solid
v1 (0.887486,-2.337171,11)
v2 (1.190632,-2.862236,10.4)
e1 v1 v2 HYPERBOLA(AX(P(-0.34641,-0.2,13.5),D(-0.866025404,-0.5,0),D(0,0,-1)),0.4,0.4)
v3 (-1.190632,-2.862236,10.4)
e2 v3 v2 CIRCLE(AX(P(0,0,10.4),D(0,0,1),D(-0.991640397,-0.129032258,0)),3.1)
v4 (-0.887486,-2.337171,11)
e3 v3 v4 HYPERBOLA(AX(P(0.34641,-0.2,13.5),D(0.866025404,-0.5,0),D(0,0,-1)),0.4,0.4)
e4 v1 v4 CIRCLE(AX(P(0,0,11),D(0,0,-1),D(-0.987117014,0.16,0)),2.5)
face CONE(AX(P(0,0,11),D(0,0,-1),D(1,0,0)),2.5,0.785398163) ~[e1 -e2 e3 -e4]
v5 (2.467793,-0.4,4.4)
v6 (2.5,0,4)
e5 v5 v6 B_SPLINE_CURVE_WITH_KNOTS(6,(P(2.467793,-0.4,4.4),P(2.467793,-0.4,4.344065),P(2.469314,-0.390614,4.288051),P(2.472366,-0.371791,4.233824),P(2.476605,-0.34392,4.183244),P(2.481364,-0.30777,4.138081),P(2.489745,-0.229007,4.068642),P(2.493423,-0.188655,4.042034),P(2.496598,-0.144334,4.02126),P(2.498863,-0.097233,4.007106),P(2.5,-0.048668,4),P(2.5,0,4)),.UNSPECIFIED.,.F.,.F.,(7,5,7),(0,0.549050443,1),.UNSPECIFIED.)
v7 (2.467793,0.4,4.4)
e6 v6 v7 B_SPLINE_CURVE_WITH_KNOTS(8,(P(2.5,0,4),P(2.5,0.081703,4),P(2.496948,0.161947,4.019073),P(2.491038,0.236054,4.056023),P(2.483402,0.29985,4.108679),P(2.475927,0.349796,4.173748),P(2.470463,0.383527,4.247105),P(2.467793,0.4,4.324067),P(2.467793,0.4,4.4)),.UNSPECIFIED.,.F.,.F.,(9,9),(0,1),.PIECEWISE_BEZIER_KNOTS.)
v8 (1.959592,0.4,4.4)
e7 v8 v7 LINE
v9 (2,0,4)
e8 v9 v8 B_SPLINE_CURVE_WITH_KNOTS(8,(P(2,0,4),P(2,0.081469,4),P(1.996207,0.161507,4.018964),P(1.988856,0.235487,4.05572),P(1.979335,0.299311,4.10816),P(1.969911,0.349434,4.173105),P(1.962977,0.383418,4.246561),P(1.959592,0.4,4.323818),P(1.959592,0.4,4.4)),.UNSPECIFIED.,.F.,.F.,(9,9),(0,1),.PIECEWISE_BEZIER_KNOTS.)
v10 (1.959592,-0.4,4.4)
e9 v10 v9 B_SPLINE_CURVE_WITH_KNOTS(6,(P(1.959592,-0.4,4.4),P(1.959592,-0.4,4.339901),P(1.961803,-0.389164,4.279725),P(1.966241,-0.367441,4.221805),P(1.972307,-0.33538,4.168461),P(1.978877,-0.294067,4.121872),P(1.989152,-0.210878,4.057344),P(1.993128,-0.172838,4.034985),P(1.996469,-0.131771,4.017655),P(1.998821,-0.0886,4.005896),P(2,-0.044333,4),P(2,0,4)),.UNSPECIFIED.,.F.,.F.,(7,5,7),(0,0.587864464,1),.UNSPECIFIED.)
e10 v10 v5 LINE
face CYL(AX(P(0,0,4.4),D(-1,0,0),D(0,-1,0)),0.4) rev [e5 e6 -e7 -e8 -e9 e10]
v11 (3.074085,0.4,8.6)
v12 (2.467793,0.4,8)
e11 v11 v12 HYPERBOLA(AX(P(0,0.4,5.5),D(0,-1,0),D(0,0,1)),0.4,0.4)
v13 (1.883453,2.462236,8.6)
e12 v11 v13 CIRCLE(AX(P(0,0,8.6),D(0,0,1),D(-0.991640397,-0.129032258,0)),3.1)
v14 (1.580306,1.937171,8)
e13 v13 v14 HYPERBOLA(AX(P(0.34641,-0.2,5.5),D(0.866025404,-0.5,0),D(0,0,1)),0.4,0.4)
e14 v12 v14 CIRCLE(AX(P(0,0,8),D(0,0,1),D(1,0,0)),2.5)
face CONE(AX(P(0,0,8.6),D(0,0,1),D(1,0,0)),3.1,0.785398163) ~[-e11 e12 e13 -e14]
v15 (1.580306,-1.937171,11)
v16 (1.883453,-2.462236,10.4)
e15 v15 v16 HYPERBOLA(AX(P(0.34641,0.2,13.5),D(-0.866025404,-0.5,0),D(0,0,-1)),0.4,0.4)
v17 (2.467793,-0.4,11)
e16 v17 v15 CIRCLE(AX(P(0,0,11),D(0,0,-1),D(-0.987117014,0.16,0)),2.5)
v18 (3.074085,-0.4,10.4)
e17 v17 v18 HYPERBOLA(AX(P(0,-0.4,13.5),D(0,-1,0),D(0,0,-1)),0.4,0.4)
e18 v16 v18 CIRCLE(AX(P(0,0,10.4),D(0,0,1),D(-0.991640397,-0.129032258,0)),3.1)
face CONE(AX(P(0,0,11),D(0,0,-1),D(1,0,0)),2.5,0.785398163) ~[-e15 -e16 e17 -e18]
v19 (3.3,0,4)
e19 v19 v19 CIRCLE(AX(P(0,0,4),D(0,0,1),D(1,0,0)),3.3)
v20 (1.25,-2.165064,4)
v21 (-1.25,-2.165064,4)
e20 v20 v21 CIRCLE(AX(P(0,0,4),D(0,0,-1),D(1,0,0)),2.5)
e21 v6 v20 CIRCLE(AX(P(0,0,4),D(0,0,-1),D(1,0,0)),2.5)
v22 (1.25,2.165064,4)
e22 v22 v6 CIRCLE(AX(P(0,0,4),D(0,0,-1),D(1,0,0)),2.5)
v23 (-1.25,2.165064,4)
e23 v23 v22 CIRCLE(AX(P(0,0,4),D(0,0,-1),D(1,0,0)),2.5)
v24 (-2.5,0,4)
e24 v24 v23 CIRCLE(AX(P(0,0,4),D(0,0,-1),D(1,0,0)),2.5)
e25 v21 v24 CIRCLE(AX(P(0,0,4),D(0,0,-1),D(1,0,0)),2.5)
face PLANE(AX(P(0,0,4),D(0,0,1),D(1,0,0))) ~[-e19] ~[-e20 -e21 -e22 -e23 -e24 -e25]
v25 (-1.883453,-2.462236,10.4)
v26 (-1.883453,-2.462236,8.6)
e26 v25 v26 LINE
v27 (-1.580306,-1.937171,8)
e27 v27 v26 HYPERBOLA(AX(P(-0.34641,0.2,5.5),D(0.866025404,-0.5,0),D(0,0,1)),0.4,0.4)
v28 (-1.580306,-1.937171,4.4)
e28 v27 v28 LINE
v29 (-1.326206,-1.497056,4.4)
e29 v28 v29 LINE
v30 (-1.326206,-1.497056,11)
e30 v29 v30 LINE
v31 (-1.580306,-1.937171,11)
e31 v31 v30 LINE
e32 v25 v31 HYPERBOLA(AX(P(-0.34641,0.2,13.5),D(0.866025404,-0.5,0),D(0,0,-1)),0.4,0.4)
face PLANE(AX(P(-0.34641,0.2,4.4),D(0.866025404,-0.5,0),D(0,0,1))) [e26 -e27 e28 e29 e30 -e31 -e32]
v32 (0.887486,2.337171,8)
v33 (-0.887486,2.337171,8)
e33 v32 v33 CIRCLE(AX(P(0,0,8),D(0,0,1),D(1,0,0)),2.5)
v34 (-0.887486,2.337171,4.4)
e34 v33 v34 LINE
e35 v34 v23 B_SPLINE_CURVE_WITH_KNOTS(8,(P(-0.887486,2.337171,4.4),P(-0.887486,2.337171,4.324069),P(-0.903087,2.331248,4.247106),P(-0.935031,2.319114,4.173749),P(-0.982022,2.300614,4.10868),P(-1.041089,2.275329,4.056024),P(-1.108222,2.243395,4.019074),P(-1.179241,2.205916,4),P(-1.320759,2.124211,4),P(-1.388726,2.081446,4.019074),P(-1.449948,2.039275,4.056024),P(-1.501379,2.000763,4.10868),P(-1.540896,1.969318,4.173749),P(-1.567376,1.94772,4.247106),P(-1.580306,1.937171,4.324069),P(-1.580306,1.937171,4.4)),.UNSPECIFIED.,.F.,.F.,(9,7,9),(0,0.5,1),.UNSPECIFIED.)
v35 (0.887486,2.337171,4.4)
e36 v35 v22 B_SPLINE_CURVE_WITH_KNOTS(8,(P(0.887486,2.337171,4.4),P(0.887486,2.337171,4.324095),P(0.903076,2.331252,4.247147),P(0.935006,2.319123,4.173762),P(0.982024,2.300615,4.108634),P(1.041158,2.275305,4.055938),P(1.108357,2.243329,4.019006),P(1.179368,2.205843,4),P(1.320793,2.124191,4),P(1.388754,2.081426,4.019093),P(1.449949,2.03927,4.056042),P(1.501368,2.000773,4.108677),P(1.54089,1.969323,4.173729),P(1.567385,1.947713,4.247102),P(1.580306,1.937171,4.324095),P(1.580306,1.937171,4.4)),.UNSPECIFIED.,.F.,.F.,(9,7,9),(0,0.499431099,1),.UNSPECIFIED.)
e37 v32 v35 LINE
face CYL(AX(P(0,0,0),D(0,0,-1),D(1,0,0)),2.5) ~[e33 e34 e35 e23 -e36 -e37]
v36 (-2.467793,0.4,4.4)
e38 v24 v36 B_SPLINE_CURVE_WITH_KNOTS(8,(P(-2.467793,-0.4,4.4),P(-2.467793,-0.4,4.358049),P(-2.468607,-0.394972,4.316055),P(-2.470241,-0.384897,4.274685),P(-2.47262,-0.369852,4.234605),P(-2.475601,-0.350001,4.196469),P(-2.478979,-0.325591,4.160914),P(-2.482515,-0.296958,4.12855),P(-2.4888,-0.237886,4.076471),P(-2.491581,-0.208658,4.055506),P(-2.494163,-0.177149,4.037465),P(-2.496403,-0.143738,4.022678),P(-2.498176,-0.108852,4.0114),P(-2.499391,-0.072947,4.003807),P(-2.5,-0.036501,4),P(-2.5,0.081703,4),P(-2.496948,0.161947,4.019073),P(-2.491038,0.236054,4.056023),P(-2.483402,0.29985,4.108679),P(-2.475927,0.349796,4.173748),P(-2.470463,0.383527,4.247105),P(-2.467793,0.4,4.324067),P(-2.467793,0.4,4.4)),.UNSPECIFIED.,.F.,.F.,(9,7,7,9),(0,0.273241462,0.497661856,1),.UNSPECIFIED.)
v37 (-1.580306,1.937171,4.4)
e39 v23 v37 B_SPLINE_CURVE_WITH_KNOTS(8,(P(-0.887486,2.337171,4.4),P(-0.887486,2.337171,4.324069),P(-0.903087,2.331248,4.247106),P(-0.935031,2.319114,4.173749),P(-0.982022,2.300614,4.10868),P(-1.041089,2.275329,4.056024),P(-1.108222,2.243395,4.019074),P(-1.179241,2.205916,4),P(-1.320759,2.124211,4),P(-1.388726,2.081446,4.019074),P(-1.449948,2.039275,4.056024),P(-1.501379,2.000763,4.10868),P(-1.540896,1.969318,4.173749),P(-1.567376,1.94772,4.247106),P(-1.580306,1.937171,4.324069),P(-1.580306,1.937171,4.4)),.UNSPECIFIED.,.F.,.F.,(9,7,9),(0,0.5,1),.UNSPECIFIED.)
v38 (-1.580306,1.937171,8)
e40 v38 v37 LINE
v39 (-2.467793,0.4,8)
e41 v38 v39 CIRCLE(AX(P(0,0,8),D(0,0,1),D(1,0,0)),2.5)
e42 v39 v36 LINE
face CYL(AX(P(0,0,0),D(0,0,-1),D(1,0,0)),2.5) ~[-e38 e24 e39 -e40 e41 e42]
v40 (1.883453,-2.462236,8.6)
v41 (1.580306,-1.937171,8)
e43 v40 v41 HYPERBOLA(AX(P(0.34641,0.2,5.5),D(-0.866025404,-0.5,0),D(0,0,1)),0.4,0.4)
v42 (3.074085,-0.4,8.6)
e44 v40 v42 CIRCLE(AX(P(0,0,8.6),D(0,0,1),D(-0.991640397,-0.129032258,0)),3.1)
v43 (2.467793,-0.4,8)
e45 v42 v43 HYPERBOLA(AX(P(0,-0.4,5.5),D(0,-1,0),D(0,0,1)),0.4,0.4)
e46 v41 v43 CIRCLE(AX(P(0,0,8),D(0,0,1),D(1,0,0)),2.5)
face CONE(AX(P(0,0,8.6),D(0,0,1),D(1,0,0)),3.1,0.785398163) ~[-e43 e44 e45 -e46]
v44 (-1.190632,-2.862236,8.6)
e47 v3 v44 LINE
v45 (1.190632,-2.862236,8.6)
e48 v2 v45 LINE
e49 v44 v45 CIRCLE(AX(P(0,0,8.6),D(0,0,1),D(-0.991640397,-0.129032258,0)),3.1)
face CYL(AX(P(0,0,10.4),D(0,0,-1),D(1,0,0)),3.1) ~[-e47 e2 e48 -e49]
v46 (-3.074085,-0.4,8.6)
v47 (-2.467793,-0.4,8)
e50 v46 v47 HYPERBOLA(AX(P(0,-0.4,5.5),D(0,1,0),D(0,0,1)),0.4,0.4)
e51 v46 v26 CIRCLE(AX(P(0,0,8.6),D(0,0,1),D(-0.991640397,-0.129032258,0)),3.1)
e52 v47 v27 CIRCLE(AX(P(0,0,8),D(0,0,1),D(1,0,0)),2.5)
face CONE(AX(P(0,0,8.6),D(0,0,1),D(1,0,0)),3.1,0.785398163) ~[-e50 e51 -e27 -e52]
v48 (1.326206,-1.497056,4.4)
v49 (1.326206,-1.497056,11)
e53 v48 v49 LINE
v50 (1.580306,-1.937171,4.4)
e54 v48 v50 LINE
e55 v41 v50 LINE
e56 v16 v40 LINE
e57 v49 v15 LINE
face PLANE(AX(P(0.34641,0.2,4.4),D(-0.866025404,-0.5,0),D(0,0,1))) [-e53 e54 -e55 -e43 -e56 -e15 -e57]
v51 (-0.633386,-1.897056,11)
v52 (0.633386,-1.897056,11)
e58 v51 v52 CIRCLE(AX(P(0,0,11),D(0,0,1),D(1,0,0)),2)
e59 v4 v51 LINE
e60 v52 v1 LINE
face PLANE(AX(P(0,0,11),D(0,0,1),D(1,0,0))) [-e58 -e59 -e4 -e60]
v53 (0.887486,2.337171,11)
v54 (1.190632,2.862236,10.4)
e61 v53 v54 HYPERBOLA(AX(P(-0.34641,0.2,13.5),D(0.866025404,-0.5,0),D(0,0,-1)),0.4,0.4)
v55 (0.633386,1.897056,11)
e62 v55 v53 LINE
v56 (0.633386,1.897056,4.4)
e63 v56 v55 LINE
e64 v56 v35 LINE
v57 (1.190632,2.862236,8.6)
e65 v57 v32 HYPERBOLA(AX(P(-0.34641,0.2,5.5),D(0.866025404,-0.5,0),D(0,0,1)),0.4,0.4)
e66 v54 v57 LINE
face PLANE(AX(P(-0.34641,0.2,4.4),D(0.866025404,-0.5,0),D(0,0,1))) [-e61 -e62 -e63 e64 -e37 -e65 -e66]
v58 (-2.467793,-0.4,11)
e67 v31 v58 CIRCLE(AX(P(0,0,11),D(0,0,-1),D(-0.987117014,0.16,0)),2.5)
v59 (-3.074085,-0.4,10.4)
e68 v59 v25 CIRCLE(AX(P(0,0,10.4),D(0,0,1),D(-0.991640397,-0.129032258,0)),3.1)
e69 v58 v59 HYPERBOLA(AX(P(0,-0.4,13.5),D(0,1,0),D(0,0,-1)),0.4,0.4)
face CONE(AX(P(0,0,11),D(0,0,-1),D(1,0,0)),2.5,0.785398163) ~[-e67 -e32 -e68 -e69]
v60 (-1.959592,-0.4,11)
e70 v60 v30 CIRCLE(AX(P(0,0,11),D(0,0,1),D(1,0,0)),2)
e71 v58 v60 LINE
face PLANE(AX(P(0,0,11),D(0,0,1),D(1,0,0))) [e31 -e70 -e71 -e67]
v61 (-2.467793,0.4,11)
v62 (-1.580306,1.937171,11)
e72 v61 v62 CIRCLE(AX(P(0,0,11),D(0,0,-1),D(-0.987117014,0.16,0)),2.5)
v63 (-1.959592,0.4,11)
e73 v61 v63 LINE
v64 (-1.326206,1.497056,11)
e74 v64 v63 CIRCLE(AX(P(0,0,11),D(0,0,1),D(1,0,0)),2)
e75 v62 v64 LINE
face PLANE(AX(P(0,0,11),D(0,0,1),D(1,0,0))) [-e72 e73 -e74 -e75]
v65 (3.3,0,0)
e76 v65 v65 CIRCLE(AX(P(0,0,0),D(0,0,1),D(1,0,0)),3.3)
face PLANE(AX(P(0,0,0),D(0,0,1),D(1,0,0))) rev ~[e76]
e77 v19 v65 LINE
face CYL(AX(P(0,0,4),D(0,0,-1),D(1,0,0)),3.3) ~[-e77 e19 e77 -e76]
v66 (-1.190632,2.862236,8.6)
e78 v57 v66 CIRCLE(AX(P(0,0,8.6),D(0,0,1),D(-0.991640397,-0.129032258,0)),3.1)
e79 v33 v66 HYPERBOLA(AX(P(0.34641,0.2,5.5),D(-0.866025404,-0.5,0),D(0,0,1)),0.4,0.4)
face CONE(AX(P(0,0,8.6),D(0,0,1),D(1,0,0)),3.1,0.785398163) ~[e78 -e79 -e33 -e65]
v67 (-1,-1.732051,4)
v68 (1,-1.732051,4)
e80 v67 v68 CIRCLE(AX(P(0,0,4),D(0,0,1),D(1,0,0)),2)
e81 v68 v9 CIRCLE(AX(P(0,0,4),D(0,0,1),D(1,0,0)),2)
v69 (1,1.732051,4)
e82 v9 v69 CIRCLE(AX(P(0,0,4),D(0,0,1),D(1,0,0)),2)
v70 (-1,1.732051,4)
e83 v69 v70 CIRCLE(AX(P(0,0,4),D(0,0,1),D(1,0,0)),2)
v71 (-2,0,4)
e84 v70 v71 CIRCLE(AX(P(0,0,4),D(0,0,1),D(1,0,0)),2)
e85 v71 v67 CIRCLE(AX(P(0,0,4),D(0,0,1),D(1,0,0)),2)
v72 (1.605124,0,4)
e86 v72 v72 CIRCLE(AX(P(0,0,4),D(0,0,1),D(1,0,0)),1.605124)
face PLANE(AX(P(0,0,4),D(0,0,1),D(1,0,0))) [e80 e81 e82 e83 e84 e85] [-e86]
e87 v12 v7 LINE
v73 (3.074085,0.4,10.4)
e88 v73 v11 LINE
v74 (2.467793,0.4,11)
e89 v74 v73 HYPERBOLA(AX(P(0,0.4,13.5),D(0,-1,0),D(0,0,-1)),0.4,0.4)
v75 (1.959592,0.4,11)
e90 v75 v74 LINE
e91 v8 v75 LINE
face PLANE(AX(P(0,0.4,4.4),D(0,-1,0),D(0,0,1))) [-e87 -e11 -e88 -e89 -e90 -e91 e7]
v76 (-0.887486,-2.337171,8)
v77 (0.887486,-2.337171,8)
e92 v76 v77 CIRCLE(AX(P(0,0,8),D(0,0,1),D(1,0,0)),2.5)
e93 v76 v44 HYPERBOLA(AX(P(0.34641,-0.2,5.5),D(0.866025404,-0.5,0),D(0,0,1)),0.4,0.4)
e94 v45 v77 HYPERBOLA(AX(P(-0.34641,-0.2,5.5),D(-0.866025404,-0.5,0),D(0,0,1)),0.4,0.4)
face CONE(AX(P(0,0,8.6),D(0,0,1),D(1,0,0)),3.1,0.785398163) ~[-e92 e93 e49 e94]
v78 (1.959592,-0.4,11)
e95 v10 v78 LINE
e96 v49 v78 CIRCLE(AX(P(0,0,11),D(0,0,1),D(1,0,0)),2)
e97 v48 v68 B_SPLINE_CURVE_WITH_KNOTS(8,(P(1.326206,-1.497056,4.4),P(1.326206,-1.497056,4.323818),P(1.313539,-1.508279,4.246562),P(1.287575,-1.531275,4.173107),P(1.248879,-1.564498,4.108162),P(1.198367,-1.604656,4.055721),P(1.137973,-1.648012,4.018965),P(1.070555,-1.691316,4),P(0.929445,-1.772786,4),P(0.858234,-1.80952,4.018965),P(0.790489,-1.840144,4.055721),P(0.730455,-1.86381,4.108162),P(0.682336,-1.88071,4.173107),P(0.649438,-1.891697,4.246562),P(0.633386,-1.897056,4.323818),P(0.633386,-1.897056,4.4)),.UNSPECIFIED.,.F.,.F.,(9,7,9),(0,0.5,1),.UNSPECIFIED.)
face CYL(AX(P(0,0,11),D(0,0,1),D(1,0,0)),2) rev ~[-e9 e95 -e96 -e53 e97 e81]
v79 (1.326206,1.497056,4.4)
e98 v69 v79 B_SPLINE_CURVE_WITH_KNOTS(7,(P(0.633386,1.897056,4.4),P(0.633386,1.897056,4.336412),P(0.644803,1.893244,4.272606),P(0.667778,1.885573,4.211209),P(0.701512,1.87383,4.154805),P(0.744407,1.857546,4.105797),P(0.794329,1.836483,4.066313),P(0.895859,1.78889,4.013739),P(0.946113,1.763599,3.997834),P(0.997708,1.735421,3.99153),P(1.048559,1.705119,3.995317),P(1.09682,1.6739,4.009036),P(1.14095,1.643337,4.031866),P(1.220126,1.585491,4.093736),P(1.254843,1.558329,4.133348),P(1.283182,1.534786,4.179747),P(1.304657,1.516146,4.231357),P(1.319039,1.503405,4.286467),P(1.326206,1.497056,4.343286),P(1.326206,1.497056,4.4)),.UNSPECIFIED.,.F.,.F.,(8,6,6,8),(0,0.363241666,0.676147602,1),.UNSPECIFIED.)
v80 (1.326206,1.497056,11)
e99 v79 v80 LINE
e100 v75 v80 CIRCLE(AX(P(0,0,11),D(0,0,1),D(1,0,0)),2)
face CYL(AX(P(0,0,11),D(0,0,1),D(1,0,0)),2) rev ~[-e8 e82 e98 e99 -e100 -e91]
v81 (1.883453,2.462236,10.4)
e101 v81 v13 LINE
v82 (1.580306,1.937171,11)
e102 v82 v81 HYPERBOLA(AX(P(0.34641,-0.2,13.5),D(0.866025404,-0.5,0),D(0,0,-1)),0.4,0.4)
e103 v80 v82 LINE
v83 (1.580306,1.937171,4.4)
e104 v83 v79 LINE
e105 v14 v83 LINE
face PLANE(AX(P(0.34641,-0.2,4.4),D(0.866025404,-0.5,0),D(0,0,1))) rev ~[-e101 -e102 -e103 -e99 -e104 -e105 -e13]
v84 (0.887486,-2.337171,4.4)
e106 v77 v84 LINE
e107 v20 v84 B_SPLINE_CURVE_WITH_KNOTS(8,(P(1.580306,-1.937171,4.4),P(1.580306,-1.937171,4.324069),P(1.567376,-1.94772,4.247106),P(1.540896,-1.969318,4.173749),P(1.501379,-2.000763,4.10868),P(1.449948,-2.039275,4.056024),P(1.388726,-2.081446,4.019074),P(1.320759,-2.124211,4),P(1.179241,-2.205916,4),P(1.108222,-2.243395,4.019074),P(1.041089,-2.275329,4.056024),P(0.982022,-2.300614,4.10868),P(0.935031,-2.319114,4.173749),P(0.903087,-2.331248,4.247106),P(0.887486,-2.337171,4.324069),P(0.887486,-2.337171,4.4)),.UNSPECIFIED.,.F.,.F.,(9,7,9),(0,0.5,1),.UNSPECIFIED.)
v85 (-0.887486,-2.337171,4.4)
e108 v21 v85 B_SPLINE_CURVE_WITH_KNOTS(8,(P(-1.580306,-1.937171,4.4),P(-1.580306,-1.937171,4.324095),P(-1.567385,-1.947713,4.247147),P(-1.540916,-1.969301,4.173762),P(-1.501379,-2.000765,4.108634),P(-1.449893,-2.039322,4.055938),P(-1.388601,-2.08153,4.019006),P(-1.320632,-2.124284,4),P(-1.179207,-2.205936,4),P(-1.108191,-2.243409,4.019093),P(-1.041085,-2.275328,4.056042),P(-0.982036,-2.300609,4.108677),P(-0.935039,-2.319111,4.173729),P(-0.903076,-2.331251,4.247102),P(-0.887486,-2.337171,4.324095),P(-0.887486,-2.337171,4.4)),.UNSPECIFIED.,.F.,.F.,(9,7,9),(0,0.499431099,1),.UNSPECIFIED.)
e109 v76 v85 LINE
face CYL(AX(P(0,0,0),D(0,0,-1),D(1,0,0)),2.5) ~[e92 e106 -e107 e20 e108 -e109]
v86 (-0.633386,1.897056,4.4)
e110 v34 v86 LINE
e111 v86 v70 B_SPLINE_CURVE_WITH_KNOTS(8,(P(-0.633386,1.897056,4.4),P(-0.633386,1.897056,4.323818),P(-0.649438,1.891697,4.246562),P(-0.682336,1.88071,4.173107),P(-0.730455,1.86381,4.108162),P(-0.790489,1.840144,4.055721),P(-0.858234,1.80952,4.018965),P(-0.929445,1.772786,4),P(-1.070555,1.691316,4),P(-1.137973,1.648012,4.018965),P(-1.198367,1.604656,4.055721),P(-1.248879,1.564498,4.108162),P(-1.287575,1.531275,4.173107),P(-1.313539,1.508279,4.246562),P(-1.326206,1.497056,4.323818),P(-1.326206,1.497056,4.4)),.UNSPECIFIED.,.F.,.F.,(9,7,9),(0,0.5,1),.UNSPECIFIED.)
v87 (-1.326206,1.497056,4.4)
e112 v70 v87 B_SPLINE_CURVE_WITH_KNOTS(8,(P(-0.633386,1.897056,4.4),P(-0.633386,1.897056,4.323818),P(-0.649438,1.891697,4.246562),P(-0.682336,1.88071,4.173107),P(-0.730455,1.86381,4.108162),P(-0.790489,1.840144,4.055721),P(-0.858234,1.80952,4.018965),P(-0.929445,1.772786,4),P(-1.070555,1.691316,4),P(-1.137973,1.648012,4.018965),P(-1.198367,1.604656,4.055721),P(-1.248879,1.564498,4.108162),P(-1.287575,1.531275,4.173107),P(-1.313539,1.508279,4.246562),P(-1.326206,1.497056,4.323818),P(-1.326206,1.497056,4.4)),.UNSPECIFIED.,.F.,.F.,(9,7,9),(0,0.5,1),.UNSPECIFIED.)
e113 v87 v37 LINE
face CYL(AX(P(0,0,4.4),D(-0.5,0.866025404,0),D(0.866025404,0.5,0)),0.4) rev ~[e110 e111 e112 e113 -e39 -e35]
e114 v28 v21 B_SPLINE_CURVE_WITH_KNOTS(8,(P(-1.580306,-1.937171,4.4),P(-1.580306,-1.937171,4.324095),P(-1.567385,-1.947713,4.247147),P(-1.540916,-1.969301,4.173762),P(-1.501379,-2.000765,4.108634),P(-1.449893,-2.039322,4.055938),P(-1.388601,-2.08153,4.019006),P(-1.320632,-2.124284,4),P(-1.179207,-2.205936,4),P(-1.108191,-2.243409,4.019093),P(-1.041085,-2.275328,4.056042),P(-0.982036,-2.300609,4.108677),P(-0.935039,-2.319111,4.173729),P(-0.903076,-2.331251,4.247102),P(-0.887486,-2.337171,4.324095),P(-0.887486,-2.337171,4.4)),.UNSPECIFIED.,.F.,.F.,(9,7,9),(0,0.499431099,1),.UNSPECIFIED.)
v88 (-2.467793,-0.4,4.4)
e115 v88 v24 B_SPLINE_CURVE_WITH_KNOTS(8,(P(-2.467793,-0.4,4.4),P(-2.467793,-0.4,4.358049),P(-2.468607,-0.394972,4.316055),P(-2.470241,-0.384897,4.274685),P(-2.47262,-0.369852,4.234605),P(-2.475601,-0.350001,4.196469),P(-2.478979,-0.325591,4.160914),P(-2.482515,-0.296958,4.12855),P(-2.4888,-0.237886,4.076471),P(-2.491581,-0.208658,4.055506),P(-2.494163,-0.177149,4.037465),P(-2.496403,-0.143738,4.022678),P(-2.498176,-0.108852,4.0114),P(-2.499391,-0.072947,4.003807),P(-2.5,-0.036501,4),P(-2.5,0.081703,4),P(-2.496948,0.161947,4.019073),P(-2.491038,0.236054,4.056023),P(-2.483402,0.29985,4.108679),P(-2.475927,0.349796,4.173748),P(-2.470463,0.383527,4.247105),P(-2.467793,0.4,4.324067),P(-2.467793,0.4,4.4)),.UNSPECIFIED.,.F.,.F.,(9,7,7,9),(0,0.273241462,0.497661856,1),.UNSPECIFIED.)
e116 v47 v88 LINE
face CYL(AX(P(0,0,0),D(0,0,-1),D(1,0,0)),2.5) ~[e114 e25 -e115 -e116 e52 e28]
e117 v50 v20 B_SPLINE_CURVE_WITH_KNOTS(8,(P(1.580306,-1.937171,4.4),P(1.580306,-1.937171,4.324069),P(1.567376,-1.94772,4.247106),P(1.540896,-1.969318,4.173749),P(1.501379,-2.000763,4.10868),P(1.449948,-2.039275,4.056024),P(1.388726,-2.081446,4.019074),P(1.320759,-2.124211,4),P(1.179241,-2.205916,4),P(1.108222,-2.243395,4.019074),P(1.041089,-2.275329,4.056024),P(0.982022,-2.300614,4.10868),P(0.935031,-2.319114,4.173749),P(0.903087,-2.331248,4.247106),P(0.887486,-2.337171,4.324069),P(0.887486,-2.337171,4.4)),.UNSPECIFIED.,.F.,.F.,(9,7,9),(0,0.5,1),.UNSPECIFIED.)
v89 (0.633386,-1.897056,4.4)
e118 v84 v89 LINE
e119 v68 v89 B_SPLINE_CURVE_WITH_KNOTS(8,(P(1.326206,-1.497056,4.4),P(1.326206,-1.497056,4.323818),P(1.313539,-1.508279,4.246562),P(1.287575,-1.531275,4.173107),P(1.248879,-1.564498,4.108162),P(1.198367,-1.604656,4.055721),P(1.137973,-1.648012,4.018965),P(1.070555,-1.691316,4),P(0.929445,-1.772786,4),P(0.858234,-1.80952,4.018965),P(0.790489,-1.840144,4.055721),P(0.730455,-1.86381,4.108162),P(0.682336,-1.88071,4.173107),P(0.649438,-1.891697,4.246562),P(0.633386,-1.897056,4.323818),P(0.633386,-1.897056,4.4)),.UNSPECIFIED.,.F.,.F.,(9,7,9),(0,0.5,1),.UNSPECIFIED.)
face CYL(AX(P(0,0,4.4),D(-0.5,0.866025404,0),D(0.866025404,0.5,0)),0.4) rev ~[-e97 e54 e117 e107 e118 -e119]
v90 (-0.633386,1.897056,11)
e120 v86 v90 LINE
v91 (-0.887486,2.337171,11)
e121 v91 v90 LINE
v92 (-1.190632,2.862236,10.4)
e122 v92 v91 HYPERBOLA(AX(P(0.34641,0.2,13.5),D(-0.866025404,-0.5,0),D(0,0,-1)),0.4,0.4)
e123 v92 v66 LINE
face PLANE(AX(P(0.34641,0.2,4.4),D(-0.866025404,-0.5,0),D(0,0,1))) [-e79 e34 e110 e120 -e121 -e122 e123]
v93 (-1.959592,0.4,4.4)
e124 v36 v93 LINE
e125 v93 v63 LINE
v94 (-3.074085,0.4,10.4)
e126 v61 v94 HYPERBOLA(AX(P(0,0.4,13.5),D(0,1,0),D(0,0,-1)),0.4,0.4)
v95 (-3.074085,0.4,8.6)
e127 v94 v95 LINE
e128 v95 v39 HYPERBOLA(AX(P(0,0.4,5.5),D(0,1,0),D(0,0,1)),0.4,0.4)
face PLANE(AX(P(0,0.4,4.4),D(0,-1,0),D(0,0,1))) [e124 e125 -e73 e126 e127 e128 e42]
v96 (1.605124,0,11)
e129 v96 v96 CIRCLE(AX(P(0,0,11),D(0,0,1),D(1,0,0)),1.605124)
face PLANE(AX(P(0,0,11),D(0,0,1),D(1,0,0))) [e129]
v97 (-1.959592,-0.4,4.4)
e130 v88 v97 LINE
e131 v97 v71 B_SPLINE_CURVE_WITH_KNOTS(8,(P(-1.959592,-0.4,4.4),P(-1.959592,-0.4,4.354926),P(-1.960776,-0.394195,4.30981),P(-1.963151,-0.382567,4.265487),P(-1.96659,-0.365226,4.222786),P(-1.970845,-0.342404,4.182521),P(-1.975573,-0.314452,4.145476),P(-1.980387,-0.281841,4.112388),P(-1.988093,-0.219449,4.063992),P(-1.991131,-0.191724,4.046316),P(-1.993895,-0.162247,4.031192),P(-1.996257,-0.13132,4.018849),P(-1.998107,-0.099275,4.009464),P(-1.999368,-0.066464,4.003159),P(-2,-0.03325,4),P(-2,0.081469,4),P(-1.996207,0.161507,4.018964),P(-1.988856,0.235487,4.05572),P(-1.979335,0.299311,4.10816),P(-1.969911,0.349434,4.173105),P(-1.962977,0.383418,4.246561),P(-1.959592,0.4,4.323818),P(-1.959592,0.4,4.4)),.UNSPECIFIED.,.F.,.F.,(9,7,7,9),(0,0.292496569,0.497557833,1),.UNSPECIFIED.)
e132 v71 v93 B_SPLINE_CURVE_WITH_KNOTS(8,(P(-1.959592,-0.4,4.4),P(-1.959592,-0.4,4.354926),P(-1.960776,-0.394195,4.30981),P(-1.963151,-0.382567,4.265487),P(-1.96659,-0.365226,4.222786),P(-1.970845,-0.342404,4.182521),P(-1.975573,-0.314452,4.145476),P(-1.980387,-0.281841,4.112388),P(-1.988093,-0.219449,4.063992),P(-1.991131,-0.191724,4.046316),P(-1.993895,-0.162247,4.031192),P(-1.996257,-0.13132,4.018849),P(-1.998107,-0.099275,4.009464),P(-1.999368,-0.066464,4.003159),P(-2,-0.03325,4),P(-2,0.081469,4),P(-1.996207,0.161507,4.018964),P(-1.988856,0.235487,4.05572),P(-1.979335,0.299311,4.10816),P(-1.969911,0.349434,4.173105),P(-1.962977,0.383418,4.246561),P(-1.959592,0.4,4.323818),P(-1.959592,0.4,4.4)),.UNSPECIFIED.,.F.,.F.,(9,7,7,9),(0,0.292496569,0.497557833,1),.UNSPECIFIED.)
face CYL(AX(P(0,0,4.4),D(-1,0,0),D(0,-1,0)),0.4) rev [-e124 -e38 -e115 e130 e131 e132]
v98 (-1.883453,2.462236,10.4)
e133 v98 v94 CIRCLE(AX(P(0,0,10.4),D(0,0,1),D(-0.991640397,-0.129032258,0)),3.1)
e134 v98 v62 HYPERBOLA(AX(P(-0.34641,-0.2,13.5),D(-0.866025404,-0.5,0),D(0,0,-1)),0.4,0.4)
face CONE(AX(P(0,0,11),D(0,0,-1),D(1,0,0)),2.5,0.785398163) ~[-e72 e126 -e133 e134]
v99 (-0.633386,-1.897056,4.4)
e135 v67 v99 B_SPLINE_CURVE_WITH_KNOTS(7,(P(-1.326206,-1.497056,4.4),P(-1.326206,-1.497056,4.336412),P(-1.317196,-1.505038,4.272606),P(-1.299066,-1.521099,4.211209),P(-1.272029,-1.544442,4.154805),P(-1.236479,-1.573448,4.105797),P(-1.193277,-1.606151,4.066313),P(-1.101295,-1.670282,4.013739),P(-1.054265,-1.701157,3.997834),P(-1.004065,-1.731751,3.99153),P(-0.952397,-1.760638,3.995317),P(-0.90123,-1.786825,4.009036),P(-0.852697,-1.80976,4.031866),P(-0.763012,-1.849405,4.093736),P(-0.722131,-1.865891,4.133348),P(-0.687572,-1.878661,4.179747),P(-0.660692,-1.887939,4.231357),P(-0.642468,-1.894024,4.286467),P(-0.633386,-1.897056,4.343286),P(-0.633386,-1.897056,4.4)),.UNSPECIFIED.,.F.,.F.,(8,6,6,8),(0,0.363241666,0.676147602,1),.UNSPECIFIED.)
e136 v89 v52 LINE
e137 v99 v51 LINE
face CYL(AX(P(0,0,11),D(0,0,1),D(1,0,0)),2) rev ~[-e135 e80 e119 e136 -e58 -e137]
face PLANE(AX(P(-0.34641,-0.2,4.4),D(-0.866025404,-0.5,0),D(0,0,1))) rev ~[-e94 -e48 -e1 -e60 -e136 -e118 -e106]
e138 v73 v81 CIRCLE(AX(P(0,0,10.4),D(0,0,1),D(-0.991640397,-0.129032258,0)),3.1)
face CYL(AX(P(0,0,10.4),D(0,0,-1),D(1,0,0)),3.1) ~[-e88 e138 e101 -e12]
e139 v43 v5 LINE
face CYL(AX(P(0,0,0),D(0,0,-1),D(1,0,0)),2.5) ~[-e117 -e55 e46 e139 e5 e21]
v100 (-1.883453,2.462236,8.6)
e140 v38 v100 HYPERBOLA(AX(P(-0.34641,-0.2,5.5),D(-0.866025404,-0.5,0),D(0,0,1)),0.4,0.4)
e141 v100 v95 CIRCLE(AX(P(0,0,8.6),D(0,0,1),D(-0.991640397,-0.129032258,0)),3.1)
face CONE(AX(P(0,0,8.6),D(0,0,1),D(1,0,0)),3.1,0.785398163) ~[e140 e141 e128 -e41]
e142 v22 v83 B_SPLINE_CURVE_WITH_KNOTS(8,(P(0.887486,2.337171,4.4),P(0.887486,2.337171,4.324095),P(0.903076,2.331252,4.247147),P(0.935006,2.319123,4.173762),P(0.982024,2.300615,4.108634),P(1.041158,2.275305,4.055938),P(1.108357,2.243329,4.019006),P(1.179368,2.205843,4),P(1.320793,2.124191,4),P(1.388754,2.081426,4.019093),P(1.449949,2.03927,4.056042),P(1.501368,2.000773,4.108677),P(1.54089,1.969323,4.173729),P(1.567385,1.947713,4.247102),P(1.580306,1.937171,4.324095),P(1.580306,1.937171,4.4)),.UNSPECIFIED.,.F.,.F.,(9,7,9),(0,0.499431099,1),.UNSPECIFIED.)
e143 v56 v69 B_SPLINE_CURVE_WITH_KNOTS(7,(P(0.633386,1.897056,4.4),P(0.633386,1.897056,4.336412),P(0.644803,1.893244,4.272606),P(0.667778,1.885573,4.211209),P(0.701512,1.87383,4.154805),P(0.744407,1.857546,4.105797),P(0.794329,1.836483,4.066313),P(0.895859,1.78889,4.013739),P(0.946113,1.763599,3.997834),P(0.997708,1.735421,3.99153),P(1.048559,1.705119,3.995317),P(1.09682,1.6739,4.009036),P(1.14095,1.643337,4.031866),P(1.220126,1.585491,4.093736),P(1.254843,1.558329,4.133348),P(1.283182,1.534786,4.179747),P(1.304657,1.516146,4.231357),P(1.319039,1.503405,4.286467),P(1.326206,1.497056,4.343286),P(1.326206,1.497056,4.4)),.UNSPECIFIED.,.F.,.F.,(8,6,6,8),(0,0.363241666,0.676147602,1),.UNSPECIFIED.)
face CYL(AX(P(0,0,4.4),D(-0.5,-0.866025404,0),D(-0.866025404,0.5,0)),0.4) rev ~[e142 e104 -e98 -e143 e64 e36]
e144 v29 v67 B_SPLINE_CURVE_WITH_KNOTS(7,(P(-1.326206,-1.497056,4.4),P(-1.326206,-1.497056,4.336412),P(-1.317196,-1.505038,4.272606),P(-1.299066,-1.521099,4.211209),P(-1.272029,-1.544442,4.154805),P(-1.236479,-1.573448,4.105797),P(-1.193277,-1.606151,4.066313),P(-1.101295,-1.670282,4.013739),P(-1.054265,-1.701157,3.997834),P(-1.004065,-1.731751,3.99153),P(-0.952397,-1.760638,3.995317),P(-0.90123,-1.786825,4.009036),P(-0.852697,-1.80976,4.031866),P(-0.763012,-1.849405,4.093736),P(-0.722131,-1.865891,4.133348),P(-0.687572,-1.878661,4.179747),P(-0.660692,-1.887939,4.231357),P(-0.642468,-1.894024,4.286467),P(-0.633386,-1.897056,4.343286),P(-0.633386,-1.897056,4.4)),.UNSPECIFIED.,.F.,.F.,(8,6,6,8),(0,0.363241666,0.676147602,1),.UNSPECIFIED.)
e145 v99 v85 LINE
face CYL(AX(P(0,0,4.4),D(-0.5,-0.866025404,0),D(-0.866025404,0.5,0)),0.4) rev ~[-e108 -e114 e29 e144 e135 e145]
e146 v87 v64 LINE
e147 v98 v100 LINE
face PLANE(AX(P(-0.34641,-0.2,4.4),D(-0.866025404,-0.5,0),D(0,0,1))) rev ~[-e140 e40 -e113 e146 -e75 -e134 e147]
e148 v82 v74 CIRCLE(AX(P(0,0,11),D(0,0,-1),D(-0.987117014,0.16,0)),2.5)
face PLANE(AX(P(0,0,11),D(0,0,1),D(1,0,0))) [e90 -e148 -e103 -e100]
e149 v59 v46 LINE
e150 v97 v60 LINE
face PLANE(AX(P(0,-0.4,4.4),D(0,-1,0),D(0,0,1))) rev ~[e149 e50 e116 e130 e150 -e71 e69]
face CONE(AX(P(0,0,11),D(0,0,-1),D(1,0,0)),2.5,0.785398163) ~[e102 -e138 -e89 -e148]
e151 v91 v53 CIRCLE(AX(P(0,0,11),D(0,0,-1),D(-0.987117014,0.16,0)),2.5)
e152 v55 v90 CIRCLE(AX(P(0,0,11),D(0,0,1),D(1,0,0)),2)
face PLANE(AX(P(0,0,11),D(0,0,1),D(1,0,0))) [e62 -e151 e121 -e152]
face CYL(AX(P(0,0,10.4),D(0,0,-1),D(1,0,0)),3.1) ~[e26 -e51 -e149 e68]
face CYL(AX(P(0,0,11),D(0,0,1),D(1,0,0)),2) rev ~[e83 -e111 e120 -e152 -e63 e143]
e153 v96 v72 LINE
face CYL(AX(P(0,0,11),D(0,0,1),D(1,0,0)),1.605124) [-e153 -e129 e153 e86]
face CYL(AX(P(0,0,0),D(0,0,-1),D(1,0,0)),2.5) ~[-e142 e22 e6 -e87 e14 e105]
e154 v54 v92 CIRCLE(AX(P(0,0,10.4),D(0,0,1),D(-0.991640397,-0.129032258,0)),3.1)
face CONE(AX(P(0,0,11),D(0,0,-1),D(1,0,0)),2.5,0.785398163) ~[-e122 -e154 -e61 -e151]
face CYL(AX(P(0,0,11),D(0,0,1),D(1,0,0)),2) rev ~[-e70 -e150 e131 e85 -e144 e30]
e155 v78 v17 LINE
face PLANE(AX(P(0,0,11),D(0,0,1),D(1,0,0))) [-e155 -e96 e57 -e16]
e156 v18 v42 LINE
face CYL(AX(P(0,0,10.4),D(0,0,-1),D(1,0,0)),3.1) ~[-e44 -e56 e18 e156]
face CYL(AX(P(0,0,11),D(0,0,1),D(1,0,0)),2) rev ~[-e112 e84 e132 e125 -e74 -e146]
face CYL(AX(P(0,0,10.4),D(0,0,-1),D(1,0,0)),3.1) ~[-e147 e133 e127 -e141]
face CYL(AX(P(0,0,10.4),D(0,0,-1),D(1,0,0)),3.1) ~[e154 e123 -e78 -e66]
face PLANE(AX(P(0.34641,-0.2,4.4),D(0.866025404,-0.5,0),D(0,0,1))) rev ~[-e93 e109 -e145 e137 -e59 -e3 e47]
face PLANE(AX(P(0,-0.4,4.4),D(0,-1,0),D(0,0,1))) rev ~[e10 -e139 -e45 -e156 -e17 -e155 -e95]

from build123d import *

# Parameters (mm, degrees)
SKETCH004_R          = 2.5
PAD001_DEPTH         = 11
POCKET003_DEPTH      = 5
POCKET003_DEPTH_BACK = 5
POLARPATTERN_COUNT   = 3
SKETCH007_R          = 2
POCKET004_DEPTH      = 7
SKETCH008_R          = 1.605124
PAD002_DEPTH         = 7


with BuildPart() as part:
    # Sketch004 → Pad001 (new body)
    with BuildSketch(Plane.XY):
        Circle(SKETCH004_R)
    extrude(amount=PAD001_DEPTH)

    # Sketch005 → Revolution (revolve)
    with BuildSketch(Plane.XZ):
        Polygon((2.5, 11), (3.1, 10.4), (3.1, 8.6), (2.5, 8), align=None)
        Polygon((2.5, 1.5), (2.3, 1.5), (2.3, 4), (3.3, 4), (3.3, 0), (2.5, 0), align=None)
    revolve(axis=Axis((0, 0, 0), (0, 0, 1)))

    # Sketch006 → Pocket003 (cut, two sides)
    with BuildSketch(Plane.YZ) as pocket003_sk:
        with BuildLine():
            ThreePointArc((-0.4, 4.4), (0, 4), (0.4, 4.4))
            Line((0.4, 4.4), (0.4, 14.4))
            ThreePointArc((0.4, 14.4), (0, 14.8), (-0.4, 14.4))
            Line((-0.4, 4.4), (-0.4, 14.4))
        make_face()
    pocket003 = extrude(amount=-POCKET003_DEPTH, mode=Mode.SUBTRACT) + extrude(pocket003_sk.sketch, amount=POCKET003_DEPTH_BACK, mode=Mode.SUBTRACT)

    # PolarPattern: Pocket003 ×3 about axis
    polarpattern_axis = Axis((0, 0, 0), (0, 0, 1))
    for i in range(1, POLARPATTERN_COUNT):
        add(pocket003.rotate(polarpattern_axis, i * 360 / POLARPATTERN_COUNT), mode=Mode.SUBTRACT)

    # Sketch007 (on Face49 of PolarPattern) → Pocket004 (cut)
    with BuildSketch(Plane.XY.offset(11)):
        Circle(SKETCH007_R)
    extrude(amount=-POCKET004_DEPTH, mode=Mode.SUBTRACT)

    # Sketch008 (on Face46 of Pocket004) → Pad002 (join)
    with BuildSketch(Plane.XY.offset(11)):
        Circle(SKETCH008_R)
    extrude(amount=-PAD002_DEPTH)


solid = part.part
